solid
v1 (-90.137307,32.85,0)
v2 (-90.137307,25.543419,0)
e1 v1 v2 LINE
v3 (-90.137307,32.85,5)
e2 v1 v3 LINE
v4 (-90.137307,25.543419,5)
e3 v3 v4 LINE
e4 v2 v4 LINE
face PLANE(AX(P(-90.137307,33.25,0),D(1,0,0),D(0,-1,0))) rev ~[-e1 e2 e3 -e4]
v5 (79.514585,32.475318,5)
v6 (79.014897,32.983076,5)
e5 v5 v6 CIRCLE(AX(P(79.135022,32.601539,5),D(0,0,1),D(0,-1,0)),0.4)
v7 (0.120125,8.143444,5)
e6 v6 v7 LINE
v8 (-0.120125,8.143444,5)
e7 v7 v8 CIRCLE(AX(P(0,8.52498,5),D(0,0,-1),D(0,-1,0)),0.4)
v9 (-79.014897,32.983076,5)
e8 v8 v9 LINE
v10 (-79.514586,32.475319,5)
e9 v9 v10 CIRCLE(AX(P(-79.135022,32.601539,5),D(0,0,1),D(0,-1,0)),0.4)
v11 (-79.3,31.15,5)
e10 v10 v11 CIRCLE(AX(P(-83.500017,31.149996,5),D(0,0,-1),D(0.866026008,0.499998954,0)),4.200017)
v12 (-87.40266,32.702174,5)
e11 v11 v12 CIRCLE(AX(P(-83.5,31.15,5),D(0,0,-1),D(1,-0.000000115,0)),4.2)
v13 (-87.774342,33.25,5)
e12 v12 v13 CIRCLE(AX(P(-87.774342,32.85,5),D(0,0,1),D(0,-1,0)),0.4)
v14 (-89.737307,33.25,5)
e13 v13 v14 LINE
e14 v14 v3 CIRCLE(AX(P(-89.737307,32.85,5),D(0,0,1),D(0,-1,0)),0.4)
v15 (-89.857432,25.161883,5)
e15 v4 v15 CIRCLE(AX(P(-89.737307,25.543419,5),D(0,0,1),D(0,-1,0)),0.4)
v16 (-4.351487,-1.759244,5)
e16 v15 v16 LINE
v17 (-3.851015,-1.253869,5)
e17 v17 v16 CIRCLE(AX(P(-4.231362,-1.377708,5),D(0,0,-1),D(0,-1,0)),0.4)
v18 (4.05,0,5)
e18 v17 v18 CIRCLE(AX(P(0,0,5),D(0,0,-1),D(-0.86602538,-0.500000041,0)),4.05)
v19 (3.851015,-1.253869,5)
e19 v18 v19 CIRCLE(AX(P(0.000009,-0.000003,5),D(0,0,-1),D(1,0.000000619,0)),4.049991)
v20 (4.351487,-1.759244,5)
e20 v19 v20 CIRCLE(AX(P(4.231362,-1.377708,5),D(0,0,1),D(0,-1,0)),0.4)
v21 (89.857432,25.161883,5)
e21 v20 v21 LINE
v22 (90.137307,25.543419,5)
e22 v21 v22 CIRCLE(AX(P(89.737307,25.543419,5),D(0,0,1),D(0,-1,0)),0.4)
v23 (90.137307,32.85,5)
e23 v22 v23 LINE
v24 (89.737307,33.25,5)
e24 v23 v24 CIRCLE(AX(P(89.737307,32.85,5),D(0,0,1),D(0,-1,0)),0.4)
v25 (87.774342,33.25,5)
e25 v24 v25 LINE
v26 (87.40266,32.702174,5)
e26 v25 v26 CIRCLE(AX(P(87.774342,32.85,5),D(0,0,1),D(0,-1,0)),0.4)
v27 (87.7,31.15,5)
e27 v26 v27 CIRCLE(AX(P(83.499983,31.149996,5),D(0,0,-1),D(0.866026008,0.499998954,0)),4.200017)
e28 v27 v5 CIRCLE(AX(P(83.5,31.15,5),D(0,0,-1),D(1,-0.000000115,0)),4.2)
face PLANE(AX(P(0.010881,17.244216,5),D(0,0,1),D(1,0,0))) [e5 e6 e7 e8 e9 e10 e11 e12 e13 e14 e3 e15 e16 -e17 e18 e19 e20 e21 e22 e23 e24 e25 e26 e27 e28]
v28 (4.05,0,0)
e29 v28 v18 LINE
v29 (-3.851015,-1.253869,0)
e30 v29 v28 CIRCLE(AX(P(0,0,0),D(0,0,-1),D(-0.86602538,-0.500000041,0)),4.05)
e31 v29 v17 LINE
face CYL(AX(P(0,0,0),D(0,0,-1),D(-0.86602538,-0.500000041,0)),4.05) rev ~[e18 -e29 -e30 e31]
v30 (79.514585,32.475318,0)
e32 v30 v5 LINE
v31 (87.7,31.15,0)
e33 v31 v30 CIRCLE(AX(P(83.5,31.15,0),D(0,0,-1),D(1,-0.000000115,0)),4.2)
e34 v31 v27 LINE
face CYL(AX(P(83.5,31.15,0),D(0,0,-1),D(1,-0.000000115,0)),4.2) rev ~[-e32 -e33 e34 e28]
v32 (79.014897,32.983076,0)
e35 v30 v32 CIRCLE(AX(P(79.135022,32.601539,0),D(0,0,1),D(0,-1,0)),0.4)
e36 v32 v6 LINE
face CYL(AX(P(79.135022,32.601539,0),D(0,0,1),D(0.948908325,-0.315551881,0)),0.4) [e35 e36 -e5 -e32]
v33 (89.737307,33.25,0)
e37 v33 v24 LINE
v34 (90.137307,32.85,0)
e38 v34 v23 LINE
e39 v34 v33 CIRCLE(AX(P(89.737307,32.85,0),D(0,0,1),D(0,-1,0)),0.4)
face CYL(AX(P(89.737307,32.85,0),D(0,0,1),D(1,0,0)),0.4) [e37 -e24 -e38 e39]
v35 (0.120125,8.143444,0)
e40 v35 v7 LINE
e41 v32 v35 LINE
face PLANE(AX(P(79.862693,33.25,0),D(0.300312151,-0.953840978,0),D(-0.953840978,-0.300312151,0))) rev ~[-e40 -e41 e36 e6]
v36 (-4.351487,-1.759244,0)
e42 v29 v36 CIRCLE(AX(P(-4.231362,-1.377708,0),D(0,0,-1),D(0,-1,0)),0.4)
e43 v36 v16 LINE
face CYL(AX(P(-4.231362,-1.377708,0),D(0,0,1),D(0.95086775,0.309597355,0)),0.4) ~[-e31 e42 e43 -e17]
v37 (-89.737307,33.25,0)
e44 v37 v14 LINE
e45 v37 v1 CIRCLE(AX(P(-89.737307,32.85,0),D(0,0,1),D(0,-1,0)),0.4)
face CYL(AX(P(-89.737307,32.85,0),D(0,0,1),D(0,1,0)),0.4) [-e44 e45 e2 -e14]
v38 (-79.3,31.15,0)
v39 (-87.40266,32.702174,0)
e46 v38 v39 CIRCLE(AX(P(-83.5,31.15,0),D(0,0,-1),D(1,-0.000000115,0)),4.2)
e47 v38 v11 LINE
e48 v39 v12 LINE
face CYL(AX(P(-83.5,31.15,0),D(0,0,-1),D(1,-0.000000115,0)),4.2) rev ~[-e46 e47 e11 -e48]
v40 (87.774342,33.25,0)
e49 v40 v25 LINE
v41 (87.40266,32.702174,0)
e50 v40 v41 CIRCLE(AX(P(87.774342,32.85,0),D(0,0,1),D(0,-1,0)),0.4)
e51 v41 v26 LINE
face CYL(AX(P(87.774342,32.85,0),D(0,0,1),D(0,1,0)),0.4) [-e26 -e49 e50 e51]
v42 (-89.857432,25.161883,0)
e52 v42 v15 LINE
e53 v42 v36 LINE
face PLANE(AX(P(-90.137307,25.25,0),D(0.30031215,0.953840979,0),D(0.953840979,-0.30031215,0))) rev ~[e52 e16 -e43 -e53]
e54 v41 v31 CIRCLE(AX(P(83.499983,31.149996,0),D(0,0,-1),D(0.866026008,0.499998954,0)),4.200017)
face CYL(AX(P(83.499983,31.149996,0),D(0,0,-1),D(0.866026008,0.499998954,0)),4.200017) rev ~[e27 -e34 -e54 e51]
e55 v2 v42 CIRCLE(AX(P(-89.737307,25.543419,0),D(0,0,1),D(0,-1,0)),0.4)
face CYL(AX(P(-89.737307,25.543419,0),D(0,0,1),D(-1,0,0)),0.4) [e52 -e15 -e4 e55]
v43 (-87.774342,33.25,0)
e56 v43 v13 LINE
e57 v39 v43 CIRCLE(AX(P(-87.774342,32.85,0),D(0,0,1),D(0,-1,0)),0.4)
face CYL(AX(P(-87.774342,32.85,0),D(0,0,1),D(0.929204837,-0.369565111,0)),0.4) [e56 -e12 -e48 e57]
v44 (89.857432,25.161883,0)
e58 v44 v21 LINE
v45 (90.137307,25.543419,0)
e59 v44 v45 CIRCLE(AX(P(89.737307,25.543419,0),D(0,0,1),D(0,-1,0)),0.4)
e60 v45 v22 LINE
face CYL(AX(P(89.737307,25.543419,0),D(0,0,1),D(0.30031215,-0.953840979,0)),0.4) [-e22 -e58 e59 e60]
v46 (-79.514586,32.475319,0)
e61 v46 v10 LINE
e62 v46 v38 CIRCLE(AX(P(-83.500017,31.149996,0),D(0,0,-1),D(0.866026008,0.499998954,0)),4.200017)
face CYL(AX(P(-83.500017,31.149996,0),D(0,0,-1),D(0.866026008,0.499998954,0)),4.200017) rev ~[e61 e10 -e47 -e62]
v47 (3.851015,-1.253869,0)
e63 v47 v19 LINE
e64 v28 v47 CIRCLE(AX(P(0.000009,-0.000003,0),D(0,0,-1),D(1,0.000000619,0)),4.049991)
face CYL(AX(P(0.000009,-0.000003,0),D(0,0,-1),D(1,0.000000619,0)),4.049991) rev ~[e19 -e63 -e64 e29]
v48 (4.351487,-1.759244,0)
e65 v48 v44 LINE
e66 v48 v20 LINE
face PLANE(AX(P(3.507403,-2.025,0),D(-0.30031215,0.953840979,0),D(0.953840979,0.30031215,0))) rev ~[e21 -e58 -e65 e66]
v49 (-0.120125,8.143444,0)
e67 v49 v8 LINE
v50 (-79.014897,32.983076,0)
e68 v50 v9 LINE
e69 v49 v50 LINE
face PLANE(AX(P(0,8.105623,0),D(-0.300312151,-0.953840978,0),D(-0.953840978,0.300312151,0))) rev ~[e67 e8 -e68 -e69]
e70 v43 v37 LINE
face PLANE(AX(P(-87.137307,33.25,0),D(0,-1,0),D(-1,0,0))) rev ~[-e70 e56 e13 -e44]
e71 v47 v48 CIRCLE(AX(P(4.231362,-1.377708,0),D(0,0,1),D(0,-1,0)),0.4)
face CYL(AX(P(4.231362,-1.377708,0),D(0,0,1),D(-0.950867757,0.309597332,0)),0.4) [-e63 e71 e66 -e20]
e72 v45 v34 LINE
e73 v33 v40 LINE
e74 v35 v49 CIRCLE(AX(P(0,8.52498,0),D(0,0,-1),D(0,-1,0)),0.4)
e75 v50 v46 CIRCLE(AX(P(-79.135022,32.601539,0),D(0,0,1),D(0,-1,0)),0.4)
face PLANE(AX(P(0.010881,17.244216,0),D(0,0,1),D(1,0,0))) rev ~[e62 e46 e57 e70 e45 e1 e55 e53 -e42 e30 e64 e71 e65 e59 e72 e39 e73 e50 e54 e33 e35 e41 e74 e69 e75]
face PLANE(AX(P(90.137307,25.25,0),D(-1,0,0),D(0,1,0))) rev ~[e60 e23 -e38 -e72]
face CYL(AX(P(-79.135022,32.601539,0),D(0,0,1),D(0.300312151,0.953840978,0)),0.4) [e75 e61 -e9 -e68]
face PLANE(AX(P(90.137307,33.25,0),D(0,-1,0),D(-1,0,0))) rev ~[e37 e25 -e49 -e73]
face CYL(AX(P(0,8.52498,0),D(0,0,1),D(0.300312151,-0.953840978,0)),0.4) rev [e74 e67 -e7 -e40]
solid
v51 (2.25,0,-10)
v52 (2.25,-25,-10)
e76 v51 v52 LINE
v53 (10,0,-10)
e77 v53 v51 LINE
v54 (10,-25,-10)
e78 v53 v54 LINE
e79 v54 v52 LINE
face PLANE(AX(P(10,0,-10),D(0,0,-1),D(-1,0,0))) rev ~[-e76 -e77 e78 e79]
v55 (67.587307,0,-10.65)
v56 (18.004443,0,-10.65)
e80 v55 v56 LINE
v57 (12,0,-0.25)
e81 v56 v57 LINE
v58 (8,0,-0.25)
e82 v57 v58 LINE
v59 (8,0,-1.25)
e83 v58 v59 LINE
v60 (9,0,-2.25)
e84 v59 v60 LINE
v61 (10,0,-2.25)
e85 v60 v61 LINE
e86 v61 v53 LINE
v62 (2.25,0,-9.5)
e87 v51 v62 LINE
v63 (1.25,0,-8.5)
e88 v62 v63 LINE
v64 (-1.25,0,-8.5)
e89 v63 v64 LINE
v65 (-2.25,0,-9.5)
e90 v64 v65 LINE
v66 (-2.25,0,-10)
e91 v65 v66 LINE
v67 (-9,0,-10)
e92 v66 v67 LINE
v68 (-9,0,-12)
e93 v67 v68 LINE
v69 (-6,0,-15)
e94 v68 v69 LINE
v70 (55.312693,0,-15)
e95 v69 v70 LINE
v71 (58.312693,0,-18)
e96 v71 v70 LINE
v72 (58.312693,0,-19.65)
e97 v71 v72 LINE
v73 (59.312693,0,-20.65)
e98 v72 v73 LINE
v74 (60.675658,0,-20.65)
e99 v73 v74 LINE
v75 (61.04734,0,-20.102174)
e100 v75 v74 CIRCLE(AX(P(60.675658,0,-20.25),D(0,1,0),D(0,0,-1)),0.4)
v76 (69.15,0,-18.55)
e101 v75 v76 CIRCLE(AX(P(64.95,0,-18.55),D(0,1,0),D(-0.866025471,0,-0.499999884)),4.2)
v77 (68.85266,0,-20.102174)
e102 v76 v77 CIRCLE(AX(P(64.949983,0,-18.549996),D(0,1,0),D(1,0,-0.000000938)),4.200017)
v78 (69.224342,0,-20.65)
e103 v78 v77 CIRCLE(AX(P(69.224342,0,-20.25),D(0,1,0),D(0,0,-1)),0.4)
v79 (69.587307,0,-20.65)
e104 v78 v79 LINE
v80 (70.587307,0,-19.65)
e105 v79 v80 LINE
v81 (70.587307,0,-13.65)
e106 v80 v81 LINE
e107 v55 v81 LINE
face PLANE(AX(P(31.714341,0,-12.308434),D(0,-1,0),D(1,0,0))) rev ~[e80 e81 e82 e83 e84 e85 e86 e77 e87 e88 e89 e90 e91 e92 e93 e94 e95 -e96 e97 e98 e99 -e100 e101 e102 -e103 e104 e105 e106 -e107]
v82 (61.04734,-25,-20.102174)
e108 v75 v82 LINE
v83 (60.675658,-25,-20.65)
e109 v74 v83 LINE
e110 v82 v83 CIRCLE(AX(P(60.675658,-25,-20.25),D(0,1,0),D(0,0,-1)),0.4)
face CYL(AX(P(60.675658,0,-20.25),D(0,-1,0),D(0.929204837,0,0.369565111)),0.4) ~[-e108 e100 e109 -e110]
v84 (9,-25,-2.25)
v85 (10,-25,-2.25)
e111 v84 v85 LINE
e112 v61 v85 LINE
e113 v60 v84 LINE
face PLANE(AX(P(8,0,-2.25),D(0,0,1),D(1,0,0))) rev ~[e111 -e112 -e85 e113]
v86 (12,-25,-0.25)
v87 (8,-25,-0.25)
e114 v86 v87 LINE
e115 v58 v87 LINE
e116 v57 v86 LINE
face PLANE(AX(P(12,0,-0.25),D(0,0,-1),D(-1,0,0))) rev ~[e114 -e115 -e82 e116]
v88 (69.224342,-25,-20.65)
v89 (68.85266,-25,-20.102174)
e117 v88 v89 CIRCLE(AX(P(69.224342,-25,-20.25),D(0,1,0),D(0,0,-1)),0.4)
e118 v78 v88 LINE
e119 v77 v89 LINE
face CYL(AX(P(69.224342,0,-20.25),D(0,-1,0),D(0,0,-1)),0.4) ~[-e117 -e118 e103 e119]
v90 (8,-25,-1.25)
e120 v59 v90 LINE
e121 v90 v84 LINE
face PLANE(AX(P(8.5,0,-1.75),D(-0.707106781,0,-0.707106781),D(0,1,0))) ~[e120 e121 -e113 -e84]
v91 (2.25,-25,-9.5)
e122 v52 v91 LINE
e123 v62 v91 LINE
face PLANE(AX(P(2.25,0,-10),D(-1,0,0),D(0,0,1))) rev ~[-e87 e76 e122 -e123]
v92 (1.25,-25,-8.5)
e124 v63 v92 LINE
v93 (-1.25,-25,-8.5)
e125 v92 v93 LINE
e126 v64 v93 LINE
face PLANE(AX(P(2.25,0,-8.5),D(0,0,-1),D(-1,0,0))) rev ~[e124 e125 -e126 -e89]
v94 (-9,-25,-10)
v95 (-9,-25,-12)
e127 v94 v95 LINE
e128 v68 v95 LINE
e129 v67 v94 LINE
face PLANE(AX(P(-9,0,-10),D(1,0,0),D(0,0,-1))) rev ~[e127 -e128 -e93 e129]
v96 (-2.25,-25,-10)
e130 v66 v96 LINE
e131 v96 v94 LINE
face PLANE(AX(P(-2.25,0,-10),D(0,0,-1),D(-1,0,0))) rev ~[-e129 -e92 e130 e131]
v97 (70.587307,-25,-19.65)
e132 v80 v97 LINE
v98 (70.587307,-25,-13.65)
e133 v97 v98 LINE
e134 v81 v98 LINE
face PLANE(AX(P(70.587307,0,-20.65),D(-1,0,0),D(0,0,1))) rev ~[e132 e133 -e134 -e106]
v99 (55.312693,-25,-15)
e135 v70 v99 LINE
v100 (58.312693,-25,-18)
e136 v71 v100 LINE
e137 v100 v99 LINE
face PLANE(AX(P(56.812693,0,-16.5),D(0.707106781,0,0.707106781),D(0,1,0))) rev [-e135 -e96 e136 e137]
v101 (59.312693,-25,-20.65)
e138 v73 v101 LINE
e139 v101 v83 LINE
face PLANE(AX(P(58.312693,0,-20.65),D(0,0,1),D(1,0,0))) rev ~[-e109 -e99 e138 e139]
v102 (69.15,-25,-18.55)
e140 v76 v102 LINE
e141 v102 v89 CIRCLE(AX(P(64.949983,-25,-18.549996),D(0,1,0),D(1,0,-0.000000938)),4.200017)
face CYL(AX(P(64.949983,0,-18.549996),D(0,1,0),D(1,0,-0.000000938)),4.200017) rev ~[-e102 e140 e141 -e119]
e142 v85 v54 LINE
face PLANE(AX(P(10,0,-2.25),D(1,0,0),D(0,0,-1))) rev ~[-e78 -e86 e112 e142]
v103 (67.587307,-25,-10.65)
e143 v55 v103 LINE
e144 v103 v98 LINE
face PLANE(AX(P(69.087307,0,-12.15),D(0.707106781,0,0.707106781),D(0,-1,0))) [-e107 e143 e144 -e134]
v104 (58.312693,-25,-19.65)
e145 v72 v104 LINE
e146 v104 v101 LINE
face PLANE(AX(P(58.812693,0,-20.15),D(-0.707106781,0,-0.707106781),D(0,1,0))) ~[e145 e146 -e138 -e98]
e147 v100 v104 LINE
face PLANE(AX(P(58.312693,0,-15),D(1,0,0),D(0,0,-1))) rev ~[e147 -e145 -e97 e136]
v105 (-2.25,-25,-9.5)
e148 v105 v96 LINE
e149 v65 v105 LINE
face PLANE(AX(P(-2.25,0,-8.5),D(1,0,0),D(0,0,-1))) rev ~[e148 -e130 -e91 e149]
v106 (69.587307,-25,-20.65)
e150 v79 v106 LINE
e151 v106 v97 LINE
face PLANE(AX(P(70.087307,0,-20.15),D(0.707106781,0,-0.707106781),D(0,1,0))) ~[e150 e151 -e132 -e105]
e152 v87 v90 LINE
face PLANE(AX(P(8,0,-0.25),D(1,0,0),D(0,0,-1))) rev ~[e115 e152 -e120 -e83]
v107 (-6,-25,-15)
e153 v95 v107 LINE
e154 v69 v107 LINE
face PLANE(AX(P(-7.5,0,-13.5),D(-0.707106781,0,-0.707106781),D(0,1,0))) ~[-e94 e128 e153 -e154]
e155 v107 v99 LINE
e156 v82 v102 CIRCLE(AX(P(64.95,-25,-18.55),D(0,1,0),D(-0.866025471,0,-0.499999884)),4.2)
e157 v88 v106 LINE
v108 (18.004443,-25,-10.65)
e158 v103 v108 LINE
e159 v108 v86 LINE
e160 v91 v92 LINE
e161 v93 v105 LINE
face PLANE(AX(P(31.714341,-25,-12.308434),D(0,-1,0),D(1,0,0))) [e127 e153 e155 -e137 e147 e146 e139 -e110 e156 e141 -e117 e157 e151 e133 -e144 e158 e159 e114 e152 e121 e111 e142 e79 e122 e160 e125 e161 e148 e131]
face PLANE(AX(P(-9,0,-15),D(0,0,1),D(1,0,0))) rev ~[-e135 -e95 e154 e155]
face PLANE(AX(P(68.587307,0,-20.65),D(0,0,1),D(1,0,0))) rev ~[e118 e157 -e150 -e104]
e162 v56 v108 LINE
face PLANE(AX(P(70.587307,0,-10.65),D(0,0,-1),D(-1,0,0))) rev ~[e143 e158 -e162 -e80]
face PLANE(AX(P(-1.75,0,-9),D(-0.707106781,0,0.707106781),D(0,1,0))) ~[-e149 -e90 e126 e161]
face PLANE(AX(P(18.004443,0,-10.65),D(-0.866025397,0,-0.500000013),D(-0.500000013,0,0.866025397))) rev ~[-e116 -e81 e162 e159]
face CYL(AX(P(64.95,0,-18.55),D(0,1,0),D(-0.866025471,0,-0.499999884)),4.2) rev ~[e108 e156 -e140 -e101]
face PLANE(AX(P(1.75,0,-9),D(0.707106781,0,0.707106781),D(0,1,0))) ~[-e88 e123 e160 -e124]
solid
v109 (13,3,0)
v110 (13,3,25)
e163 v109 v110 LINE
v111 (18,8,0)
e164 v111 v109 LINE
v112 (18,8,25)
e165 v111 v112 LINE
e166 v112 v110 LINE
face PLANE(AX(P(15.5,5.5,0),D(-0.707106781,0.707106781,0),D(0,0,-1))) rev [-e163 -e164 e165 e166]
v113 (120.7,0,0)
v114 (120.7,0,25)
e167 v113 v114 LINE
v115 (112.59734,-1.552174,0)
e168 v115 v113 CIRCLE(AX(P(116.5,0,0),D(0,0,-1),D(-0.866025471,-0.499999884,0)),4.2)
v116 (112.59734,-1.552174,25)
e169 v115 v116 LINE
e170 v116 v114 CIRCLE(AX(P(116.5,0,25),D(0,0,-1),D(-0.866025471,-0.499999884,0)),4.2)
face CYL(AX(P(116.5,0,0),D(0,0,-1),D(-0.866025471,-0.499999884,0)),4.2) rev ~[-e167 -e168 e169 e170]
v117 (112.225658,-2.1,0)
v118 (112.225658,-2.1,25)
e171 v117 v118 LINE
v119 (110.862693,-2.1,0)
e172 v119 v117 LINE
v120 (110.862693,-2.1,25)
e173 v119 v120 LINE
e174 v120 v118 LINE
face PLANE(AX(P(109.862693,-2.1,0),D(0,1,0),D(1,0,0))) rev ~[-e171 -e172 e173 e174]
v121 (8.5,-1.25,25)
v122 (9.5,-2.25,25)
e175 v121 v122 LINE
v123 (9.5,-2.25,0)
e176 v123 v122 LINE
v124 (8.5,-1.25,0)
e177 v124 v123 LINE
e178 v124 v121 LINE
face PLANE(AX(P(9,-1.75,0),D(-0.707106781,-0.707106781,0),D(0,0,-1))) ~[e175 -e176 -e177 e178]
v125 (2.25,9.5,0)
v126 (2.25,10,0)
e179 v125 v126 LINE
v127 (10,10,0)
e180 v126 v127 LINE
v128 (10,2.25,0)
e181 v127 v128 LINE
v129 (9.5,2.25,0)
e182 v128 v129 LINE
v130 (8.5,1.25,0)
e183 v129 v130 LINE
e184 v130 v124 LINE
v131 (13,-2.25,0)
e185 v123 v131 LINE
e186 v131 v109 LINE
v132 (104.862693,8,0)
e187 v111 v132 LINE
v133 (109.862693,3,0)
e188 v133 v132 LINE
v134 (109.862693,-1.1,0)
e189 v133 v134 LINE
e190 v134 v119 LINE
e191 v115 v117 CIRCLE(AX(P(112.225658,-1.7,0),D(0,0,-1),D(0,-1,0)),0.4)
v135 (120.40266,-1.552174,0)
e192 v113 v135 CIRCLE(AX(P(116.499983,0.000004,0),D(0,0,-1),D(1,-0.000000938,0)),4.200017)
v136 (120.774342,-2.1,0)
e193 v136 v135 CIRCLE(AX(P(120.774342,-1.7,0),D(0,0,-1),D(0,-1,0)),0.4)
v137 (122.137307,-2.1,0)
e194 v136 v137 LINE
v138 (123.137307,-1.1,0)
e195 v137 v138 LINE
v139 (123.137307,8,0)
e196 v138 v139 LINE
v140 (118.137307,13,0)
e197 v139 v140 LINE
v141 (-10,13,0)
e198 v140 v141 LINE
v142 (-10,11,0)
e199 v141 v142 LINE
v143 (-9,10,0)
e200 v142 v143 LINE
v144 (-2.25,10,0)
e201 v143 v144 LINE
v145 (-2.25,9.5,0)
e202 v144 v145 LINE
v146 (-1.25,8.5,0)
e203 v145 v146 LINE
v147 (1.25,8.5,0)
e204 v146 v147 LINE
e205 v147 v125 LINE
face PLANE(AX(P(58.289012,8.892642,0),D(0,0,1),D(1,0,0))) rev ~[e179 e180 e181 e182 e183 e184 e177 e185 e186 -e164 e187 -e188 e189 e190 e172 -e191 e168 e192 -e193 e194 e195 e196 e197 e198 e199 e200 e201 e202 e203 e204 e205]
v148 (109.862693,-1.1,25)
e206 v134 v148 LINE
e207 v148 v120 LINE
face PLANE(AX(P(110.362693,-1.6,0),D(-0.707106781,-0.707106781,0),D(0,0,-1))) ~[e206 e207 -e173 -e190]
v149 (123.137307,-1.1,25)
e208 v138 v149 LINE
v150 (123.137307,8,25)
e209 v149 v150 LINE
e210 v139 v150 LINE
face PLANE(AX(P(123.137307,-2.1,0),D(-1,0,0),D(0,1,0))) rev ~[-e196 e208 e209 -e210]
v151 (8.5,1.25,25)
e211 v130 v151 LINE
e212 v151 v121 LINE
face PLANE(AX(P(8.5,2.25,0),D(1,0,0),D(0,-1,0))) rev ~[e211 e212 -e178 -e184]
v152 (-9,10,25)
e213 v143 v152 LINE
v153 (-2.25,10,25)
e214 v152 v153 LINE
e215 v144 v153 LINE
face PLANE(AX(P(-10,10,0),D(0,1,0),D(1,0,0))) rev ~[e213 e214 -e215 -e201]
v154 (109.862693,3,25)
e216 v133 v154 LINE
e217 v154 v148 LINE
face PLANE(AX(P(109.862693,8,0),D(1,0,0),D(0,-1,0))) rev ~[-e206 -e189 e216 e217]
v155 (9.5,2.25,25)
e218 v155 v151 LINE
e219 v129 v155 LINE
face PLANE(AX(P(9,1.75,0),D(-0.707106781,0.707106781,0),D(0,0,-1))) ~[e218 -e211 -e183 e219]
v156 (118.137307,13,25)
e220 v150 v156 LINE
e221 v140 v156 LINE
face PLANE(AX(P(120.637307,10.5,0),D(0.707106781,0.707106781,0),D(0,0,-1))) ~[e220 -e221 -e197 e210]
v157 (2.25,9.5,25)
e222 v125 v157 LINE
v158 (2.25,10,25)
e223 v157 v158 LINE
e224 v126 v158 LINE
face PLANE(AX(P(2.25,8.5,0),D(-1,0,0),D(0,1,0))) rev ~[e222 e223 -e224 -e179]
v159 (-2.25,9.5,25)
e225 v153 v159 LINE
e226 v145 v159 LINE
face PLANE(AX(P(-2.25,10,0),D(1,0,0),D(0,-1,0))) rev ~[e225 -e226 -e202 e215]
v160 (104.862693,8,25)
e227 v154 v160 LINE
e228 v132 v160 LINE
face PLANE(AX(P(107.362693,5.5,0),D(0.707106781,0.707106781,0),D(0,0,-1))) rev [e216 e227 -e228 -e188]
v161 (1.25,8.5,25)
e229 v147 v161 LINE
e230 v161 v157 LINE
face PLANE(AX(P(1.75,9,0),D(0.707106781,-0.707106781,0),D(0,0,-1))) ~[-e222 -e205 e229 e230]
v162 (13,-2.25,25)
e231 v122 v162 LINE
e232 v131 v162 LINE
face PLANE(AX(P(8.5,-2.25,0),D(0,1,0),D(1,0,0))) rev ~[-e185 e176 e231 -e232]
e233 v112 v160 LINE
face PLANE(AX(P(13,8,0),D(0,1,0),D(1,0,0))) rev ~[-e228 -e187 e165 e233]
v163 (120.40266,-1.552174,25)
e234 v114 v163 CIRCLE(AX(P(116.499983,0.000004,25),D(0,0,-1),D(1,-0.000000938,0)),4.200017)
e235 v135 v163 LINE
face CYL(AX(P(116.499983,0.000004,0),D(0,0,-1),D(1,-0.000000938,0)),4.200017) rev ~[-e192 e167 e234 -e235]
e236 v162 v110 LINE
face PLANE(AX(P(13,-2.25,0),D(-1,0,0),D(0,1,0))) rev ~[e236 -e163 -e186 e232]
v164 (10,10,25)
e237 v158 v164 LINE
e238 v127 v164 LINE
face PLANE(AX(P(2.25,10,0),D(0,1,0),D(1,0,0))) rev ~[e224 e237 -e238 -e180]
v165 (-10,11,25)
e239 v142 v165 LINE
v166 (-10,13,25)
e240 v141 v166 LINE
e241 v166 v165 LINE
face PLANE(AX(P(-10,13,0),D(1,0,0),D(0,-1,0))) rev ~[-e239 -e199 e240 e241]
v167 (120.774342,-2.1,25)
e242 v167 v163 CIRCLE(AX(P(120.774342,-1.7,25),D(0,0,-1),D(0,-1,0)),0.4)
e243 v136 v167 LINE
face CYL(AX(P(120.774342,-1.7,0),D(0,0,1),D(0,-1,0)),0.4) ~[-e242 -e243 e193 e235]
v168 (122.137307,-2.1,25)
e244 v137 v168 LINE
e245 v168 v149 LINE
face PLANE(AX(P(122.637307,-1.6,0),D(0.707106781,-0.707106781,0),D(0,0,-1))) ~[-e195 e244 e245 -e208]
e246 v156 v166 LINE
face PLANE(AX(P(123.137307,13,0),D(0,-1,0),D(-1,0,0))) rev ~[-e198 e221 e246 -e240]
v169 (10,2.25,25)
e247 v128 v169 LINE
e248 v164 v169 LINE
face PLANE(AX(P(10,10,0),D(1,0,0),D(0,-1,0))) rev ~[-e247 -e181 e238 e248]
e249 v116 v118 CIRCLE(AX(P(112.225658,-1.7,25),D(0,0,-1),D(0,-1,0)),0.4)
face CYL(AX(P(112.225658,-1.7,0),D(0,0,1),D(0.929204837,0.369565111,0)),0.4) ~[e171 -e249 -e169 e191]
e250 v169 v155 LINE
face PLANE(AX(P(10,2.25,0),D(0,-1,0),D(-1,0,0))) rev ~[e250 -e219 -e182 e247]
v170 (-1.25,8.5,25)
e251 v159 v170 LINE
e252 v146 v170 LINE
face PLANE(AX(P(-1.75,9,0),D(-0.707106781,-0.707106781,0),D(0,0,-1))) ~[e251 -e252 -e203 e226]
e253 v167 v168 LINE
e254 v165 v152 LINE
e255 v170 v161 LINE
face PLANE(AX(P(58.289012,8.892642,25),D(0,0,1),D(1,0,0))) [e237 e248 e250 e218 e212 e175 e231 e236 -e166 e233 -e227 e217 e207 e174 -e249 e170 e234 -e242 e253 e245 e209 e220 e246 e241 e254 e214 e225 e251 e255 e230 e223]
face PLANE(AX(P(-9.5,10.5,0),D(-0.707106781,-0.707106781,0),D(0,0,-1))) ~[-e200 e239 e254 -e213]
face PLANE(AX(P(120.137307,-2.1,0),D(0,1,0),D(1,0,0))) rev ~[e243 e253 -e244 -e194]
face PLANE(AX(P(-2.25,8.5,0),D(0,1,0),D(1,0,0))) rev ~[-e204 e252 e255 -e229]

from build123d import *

# Parameters (mm, degrees)
F2_DEPTH  = 25
F3_SIZE   = 1
F4_SIZE   = 3
F6_DEPTH  = 25
F7_SIZE   = 1
F8_SIZE   = 5
F9_R      = 0.4
F9_2_R    = 0.4
F11_DEPTH = 5
F12_R     = 0.4


with BuildPart() as f2:
    # F1 (on Front) → F2 (new body)
    with BuildSketch(Plane.XZ):
        with BuildLine():
            Line((8, -0.25), (8, -2.25))
            Line((8, -2.25), (10, -2.25))
            Line((10, -2.25), (10, -10))
            Line((10, -10), (2.25, -10))
            Line((2.25, -10), (2.25, -8.5))
            Line((2.25, -8.5), (-2.25, -8.5))
            Line((-2.25, -8.5), (-2.25, -10))
            Line((-2.25, -10), (-9, -10))
            Line((-9, -10), (-9, -15))
            Line((-9, -15), (58.312693, -15))
            Line((58.312693, -15), (58.312693, -20.65))
            Line((58.312693, -20.65), (61.312693, -20.65))
            ThreePointArc((61.312693, -20.65), (63.86296, -14.493112), (69.15, -18.55))
            ThreePointArc((69.15, -18.55), (69.006888, -19.63704), (68.587307, -20.65))
            Line((68.587307, -20.65), (70.587307, -20.65))
            Line((70.587307, -20.65), (70.587307, -10.65))
            Line((70.587307, -10.65), (18.004443, -10.65))
            Line((18.004443, -10.65), (12, -0.25))
            Line((12, -0.25), (8, -0.25))
        make_face()
    extrude(amount=F2_DEPTH)

    # F3
    f3_edges = [f2.edges().sort_by_distance(p)[0] for p in [
        (-2.25, -12.5, -8.5),
        (2.25, -12.5, -8.5),
        (8, -12.5, -2.25),
        (58.312693, -12.5, -20.65),
        (70.587307, -12.5, -20.65),
    ]]
    chamfer(f3_edges, length=F3_SIZE)

    # F4
    f4_edges = [f2.edges().sort_by_distance(p)[0] for p in [
        (-9, -12.5, -15),
        (58.312693, -12.5, -15),
        (70.587307, -12.5, -10.65),
    ]]
    chamfer(f4_edges, length=F4_SIZE)

    # F9
    f9_edges = [f2.edges().sort_by_distance(p)[0] for p in [
        (61.312693, -12.5, -20.65),
        (68.587307, -12.5, -20.65),
    ]]
    fillet(f9_edges, radius=F9_R)


with BuildPart() as f6:
    # F5 (on Top) → F6 (new body)
    with BuildSketch(Plane.XY):
        with BuildLine():
            ThreePointArc((112.862693, -2.1), (115.41296, 4.056888), (120.7, 0))
            ThreePointArc((120.7, 0), (120.556888, -1.08704), (120.137307, -2.1))
            Line((120.137307, -2.1), (123.137307, -2.1))
            Line((123.137307, -2.1), (123.137307, 13))
            Line((123.137307, 13), (-10, 13))
            Line((-10, 13), (-10, 10))
            Line((-10, 10), (-2.25, 10))
            Line((-2.25, 10), (-2.25, 8.5))
            Line((-2.25, 8.5), (2.25, 8.5))
            Line((2.25, 8.5), (2.25, 10))
            Line((2.25, 10), (10, 10))
            Line((10, 10), (10, 2.25))
            Line((10, 2.25), (8.5, 2.25))
            Line((8.5, 2.25), (8.5, -2.25))
            Line((8.5, -2.25), (10, -2.25))
            Line((10, -2.25), (13, -2.25))
            Line((13, -2.25), (13, 8))
            Line((13, 8), (109.862693, 8))
            Line((109.862693, 8), (109.862693, -2.1))
            Line((109.862693, -2.1), (112.862693, -2.1))
        make_face()
    extrude(amount=F6_DEPTH)

    # F7
    f7_edges = [f6.edges().sort_by_distance(p)[0] for p in [
        (8.5, 2.25, 12.5),
        (8.5, -2.25, 12.5),
        (-2.25, 8.5, 12.5),
        (2.25, 8.5, 12.5),
        (-10, 10, 12.5),
        (109.862693, -2.1, 12.5),
        (123.137307, -2.1, 12.5),
    ]]
    chamfer(f7_edges, length=F7_SIZE)

    # F8
    f8_edges = [f6.edges().sort_by_distance(p)[0] for p in [
        (123.137307, 13, 12.5),
        (109.862693, 8, 12.5),
        (13, 8, 12.5),
    ]]
    chamfer(f8_edges, length=F8_SIZE)

    # F9#2
    f9_2_edges = [f6.edges().sort_by_distance(p)[0] for p in [
        (112.862693, -2.1, 12.5),
        (120.137307, -2.1, 12.5),
    ]]
    fillet(f9_2_edges, radius=F9_2_R)


with BuildPart() as f11:
    # F10 (on Top) → F11 (new body)
    with BuildSketch(Plane.XY):
        with BuildLine():
            ThreePointArc((-3.507403, -2.025), (-1.048217, 3.912), (4.05, 0))
            ThreePointArc((4.05, 0), (3.912, -1.048217), (3.507403, -2.025))
            Line((3.507403, -2.025), (90.137307, 25.25))
            Line((90.137307, 25.25), (90.137307, 33.25))
            Line((90.137307, 33.25), (87.137307, 33.25))
            ThreePointArc((87.137307, 33.25), (87.556888, 32.23704), (87.7, 31.15))
            ThreePointArc((87.7, 31.15), (82.41296, 27.093112), (79.862693, 33.25))
            Line((79.862693, 33.25), (0, 8.105623))
            Line((0, 8.105623), (-79.862693, 33.25))
            ThreePointArc((-79.862693, 33.25), (-79.443112, 32.23704), (-79.3, 31.15))
            ThreePointArc((-79.3, 31.15), (-84.58704, 27.093112), (-87.137307, 33.25))
            Line((-87.137307, 33.25), (-90.137307, 33.25))
            Line((-90.137307, 33.25), (-90.137307, 25.25))
            Line((-90.137307, 25.25), (-3.507403, -2.025))
        make_face()
    extrude(amount=F11_DEPTH)

    # F12
    f12_edges = [f11.edges().sort_by_distance(p)[0] for p in [
        (-3.507403, -2.025, 2.5),
        (3.507403, -2.025, 2.5),
        (0, 8.105623, 2.5),
        (79.862693, 33.25, 2.5),
        (87.137307, 33.25, 2.5),
        (90.137307, 33.25, 2.5),
        (90.137307, 25.25, 2.5),
        (-90.137307, 33.25, 2.5),
        (-90.137307, 25.25, 2.5),
        (-79.862693, 33.25, 2.5),
        (-87.137307, 33.25, 2.5),
    ]]
    fillet(f12_edges, radius=F12_R)


solid = Compound([f2.part, f6.part, f11.part])
